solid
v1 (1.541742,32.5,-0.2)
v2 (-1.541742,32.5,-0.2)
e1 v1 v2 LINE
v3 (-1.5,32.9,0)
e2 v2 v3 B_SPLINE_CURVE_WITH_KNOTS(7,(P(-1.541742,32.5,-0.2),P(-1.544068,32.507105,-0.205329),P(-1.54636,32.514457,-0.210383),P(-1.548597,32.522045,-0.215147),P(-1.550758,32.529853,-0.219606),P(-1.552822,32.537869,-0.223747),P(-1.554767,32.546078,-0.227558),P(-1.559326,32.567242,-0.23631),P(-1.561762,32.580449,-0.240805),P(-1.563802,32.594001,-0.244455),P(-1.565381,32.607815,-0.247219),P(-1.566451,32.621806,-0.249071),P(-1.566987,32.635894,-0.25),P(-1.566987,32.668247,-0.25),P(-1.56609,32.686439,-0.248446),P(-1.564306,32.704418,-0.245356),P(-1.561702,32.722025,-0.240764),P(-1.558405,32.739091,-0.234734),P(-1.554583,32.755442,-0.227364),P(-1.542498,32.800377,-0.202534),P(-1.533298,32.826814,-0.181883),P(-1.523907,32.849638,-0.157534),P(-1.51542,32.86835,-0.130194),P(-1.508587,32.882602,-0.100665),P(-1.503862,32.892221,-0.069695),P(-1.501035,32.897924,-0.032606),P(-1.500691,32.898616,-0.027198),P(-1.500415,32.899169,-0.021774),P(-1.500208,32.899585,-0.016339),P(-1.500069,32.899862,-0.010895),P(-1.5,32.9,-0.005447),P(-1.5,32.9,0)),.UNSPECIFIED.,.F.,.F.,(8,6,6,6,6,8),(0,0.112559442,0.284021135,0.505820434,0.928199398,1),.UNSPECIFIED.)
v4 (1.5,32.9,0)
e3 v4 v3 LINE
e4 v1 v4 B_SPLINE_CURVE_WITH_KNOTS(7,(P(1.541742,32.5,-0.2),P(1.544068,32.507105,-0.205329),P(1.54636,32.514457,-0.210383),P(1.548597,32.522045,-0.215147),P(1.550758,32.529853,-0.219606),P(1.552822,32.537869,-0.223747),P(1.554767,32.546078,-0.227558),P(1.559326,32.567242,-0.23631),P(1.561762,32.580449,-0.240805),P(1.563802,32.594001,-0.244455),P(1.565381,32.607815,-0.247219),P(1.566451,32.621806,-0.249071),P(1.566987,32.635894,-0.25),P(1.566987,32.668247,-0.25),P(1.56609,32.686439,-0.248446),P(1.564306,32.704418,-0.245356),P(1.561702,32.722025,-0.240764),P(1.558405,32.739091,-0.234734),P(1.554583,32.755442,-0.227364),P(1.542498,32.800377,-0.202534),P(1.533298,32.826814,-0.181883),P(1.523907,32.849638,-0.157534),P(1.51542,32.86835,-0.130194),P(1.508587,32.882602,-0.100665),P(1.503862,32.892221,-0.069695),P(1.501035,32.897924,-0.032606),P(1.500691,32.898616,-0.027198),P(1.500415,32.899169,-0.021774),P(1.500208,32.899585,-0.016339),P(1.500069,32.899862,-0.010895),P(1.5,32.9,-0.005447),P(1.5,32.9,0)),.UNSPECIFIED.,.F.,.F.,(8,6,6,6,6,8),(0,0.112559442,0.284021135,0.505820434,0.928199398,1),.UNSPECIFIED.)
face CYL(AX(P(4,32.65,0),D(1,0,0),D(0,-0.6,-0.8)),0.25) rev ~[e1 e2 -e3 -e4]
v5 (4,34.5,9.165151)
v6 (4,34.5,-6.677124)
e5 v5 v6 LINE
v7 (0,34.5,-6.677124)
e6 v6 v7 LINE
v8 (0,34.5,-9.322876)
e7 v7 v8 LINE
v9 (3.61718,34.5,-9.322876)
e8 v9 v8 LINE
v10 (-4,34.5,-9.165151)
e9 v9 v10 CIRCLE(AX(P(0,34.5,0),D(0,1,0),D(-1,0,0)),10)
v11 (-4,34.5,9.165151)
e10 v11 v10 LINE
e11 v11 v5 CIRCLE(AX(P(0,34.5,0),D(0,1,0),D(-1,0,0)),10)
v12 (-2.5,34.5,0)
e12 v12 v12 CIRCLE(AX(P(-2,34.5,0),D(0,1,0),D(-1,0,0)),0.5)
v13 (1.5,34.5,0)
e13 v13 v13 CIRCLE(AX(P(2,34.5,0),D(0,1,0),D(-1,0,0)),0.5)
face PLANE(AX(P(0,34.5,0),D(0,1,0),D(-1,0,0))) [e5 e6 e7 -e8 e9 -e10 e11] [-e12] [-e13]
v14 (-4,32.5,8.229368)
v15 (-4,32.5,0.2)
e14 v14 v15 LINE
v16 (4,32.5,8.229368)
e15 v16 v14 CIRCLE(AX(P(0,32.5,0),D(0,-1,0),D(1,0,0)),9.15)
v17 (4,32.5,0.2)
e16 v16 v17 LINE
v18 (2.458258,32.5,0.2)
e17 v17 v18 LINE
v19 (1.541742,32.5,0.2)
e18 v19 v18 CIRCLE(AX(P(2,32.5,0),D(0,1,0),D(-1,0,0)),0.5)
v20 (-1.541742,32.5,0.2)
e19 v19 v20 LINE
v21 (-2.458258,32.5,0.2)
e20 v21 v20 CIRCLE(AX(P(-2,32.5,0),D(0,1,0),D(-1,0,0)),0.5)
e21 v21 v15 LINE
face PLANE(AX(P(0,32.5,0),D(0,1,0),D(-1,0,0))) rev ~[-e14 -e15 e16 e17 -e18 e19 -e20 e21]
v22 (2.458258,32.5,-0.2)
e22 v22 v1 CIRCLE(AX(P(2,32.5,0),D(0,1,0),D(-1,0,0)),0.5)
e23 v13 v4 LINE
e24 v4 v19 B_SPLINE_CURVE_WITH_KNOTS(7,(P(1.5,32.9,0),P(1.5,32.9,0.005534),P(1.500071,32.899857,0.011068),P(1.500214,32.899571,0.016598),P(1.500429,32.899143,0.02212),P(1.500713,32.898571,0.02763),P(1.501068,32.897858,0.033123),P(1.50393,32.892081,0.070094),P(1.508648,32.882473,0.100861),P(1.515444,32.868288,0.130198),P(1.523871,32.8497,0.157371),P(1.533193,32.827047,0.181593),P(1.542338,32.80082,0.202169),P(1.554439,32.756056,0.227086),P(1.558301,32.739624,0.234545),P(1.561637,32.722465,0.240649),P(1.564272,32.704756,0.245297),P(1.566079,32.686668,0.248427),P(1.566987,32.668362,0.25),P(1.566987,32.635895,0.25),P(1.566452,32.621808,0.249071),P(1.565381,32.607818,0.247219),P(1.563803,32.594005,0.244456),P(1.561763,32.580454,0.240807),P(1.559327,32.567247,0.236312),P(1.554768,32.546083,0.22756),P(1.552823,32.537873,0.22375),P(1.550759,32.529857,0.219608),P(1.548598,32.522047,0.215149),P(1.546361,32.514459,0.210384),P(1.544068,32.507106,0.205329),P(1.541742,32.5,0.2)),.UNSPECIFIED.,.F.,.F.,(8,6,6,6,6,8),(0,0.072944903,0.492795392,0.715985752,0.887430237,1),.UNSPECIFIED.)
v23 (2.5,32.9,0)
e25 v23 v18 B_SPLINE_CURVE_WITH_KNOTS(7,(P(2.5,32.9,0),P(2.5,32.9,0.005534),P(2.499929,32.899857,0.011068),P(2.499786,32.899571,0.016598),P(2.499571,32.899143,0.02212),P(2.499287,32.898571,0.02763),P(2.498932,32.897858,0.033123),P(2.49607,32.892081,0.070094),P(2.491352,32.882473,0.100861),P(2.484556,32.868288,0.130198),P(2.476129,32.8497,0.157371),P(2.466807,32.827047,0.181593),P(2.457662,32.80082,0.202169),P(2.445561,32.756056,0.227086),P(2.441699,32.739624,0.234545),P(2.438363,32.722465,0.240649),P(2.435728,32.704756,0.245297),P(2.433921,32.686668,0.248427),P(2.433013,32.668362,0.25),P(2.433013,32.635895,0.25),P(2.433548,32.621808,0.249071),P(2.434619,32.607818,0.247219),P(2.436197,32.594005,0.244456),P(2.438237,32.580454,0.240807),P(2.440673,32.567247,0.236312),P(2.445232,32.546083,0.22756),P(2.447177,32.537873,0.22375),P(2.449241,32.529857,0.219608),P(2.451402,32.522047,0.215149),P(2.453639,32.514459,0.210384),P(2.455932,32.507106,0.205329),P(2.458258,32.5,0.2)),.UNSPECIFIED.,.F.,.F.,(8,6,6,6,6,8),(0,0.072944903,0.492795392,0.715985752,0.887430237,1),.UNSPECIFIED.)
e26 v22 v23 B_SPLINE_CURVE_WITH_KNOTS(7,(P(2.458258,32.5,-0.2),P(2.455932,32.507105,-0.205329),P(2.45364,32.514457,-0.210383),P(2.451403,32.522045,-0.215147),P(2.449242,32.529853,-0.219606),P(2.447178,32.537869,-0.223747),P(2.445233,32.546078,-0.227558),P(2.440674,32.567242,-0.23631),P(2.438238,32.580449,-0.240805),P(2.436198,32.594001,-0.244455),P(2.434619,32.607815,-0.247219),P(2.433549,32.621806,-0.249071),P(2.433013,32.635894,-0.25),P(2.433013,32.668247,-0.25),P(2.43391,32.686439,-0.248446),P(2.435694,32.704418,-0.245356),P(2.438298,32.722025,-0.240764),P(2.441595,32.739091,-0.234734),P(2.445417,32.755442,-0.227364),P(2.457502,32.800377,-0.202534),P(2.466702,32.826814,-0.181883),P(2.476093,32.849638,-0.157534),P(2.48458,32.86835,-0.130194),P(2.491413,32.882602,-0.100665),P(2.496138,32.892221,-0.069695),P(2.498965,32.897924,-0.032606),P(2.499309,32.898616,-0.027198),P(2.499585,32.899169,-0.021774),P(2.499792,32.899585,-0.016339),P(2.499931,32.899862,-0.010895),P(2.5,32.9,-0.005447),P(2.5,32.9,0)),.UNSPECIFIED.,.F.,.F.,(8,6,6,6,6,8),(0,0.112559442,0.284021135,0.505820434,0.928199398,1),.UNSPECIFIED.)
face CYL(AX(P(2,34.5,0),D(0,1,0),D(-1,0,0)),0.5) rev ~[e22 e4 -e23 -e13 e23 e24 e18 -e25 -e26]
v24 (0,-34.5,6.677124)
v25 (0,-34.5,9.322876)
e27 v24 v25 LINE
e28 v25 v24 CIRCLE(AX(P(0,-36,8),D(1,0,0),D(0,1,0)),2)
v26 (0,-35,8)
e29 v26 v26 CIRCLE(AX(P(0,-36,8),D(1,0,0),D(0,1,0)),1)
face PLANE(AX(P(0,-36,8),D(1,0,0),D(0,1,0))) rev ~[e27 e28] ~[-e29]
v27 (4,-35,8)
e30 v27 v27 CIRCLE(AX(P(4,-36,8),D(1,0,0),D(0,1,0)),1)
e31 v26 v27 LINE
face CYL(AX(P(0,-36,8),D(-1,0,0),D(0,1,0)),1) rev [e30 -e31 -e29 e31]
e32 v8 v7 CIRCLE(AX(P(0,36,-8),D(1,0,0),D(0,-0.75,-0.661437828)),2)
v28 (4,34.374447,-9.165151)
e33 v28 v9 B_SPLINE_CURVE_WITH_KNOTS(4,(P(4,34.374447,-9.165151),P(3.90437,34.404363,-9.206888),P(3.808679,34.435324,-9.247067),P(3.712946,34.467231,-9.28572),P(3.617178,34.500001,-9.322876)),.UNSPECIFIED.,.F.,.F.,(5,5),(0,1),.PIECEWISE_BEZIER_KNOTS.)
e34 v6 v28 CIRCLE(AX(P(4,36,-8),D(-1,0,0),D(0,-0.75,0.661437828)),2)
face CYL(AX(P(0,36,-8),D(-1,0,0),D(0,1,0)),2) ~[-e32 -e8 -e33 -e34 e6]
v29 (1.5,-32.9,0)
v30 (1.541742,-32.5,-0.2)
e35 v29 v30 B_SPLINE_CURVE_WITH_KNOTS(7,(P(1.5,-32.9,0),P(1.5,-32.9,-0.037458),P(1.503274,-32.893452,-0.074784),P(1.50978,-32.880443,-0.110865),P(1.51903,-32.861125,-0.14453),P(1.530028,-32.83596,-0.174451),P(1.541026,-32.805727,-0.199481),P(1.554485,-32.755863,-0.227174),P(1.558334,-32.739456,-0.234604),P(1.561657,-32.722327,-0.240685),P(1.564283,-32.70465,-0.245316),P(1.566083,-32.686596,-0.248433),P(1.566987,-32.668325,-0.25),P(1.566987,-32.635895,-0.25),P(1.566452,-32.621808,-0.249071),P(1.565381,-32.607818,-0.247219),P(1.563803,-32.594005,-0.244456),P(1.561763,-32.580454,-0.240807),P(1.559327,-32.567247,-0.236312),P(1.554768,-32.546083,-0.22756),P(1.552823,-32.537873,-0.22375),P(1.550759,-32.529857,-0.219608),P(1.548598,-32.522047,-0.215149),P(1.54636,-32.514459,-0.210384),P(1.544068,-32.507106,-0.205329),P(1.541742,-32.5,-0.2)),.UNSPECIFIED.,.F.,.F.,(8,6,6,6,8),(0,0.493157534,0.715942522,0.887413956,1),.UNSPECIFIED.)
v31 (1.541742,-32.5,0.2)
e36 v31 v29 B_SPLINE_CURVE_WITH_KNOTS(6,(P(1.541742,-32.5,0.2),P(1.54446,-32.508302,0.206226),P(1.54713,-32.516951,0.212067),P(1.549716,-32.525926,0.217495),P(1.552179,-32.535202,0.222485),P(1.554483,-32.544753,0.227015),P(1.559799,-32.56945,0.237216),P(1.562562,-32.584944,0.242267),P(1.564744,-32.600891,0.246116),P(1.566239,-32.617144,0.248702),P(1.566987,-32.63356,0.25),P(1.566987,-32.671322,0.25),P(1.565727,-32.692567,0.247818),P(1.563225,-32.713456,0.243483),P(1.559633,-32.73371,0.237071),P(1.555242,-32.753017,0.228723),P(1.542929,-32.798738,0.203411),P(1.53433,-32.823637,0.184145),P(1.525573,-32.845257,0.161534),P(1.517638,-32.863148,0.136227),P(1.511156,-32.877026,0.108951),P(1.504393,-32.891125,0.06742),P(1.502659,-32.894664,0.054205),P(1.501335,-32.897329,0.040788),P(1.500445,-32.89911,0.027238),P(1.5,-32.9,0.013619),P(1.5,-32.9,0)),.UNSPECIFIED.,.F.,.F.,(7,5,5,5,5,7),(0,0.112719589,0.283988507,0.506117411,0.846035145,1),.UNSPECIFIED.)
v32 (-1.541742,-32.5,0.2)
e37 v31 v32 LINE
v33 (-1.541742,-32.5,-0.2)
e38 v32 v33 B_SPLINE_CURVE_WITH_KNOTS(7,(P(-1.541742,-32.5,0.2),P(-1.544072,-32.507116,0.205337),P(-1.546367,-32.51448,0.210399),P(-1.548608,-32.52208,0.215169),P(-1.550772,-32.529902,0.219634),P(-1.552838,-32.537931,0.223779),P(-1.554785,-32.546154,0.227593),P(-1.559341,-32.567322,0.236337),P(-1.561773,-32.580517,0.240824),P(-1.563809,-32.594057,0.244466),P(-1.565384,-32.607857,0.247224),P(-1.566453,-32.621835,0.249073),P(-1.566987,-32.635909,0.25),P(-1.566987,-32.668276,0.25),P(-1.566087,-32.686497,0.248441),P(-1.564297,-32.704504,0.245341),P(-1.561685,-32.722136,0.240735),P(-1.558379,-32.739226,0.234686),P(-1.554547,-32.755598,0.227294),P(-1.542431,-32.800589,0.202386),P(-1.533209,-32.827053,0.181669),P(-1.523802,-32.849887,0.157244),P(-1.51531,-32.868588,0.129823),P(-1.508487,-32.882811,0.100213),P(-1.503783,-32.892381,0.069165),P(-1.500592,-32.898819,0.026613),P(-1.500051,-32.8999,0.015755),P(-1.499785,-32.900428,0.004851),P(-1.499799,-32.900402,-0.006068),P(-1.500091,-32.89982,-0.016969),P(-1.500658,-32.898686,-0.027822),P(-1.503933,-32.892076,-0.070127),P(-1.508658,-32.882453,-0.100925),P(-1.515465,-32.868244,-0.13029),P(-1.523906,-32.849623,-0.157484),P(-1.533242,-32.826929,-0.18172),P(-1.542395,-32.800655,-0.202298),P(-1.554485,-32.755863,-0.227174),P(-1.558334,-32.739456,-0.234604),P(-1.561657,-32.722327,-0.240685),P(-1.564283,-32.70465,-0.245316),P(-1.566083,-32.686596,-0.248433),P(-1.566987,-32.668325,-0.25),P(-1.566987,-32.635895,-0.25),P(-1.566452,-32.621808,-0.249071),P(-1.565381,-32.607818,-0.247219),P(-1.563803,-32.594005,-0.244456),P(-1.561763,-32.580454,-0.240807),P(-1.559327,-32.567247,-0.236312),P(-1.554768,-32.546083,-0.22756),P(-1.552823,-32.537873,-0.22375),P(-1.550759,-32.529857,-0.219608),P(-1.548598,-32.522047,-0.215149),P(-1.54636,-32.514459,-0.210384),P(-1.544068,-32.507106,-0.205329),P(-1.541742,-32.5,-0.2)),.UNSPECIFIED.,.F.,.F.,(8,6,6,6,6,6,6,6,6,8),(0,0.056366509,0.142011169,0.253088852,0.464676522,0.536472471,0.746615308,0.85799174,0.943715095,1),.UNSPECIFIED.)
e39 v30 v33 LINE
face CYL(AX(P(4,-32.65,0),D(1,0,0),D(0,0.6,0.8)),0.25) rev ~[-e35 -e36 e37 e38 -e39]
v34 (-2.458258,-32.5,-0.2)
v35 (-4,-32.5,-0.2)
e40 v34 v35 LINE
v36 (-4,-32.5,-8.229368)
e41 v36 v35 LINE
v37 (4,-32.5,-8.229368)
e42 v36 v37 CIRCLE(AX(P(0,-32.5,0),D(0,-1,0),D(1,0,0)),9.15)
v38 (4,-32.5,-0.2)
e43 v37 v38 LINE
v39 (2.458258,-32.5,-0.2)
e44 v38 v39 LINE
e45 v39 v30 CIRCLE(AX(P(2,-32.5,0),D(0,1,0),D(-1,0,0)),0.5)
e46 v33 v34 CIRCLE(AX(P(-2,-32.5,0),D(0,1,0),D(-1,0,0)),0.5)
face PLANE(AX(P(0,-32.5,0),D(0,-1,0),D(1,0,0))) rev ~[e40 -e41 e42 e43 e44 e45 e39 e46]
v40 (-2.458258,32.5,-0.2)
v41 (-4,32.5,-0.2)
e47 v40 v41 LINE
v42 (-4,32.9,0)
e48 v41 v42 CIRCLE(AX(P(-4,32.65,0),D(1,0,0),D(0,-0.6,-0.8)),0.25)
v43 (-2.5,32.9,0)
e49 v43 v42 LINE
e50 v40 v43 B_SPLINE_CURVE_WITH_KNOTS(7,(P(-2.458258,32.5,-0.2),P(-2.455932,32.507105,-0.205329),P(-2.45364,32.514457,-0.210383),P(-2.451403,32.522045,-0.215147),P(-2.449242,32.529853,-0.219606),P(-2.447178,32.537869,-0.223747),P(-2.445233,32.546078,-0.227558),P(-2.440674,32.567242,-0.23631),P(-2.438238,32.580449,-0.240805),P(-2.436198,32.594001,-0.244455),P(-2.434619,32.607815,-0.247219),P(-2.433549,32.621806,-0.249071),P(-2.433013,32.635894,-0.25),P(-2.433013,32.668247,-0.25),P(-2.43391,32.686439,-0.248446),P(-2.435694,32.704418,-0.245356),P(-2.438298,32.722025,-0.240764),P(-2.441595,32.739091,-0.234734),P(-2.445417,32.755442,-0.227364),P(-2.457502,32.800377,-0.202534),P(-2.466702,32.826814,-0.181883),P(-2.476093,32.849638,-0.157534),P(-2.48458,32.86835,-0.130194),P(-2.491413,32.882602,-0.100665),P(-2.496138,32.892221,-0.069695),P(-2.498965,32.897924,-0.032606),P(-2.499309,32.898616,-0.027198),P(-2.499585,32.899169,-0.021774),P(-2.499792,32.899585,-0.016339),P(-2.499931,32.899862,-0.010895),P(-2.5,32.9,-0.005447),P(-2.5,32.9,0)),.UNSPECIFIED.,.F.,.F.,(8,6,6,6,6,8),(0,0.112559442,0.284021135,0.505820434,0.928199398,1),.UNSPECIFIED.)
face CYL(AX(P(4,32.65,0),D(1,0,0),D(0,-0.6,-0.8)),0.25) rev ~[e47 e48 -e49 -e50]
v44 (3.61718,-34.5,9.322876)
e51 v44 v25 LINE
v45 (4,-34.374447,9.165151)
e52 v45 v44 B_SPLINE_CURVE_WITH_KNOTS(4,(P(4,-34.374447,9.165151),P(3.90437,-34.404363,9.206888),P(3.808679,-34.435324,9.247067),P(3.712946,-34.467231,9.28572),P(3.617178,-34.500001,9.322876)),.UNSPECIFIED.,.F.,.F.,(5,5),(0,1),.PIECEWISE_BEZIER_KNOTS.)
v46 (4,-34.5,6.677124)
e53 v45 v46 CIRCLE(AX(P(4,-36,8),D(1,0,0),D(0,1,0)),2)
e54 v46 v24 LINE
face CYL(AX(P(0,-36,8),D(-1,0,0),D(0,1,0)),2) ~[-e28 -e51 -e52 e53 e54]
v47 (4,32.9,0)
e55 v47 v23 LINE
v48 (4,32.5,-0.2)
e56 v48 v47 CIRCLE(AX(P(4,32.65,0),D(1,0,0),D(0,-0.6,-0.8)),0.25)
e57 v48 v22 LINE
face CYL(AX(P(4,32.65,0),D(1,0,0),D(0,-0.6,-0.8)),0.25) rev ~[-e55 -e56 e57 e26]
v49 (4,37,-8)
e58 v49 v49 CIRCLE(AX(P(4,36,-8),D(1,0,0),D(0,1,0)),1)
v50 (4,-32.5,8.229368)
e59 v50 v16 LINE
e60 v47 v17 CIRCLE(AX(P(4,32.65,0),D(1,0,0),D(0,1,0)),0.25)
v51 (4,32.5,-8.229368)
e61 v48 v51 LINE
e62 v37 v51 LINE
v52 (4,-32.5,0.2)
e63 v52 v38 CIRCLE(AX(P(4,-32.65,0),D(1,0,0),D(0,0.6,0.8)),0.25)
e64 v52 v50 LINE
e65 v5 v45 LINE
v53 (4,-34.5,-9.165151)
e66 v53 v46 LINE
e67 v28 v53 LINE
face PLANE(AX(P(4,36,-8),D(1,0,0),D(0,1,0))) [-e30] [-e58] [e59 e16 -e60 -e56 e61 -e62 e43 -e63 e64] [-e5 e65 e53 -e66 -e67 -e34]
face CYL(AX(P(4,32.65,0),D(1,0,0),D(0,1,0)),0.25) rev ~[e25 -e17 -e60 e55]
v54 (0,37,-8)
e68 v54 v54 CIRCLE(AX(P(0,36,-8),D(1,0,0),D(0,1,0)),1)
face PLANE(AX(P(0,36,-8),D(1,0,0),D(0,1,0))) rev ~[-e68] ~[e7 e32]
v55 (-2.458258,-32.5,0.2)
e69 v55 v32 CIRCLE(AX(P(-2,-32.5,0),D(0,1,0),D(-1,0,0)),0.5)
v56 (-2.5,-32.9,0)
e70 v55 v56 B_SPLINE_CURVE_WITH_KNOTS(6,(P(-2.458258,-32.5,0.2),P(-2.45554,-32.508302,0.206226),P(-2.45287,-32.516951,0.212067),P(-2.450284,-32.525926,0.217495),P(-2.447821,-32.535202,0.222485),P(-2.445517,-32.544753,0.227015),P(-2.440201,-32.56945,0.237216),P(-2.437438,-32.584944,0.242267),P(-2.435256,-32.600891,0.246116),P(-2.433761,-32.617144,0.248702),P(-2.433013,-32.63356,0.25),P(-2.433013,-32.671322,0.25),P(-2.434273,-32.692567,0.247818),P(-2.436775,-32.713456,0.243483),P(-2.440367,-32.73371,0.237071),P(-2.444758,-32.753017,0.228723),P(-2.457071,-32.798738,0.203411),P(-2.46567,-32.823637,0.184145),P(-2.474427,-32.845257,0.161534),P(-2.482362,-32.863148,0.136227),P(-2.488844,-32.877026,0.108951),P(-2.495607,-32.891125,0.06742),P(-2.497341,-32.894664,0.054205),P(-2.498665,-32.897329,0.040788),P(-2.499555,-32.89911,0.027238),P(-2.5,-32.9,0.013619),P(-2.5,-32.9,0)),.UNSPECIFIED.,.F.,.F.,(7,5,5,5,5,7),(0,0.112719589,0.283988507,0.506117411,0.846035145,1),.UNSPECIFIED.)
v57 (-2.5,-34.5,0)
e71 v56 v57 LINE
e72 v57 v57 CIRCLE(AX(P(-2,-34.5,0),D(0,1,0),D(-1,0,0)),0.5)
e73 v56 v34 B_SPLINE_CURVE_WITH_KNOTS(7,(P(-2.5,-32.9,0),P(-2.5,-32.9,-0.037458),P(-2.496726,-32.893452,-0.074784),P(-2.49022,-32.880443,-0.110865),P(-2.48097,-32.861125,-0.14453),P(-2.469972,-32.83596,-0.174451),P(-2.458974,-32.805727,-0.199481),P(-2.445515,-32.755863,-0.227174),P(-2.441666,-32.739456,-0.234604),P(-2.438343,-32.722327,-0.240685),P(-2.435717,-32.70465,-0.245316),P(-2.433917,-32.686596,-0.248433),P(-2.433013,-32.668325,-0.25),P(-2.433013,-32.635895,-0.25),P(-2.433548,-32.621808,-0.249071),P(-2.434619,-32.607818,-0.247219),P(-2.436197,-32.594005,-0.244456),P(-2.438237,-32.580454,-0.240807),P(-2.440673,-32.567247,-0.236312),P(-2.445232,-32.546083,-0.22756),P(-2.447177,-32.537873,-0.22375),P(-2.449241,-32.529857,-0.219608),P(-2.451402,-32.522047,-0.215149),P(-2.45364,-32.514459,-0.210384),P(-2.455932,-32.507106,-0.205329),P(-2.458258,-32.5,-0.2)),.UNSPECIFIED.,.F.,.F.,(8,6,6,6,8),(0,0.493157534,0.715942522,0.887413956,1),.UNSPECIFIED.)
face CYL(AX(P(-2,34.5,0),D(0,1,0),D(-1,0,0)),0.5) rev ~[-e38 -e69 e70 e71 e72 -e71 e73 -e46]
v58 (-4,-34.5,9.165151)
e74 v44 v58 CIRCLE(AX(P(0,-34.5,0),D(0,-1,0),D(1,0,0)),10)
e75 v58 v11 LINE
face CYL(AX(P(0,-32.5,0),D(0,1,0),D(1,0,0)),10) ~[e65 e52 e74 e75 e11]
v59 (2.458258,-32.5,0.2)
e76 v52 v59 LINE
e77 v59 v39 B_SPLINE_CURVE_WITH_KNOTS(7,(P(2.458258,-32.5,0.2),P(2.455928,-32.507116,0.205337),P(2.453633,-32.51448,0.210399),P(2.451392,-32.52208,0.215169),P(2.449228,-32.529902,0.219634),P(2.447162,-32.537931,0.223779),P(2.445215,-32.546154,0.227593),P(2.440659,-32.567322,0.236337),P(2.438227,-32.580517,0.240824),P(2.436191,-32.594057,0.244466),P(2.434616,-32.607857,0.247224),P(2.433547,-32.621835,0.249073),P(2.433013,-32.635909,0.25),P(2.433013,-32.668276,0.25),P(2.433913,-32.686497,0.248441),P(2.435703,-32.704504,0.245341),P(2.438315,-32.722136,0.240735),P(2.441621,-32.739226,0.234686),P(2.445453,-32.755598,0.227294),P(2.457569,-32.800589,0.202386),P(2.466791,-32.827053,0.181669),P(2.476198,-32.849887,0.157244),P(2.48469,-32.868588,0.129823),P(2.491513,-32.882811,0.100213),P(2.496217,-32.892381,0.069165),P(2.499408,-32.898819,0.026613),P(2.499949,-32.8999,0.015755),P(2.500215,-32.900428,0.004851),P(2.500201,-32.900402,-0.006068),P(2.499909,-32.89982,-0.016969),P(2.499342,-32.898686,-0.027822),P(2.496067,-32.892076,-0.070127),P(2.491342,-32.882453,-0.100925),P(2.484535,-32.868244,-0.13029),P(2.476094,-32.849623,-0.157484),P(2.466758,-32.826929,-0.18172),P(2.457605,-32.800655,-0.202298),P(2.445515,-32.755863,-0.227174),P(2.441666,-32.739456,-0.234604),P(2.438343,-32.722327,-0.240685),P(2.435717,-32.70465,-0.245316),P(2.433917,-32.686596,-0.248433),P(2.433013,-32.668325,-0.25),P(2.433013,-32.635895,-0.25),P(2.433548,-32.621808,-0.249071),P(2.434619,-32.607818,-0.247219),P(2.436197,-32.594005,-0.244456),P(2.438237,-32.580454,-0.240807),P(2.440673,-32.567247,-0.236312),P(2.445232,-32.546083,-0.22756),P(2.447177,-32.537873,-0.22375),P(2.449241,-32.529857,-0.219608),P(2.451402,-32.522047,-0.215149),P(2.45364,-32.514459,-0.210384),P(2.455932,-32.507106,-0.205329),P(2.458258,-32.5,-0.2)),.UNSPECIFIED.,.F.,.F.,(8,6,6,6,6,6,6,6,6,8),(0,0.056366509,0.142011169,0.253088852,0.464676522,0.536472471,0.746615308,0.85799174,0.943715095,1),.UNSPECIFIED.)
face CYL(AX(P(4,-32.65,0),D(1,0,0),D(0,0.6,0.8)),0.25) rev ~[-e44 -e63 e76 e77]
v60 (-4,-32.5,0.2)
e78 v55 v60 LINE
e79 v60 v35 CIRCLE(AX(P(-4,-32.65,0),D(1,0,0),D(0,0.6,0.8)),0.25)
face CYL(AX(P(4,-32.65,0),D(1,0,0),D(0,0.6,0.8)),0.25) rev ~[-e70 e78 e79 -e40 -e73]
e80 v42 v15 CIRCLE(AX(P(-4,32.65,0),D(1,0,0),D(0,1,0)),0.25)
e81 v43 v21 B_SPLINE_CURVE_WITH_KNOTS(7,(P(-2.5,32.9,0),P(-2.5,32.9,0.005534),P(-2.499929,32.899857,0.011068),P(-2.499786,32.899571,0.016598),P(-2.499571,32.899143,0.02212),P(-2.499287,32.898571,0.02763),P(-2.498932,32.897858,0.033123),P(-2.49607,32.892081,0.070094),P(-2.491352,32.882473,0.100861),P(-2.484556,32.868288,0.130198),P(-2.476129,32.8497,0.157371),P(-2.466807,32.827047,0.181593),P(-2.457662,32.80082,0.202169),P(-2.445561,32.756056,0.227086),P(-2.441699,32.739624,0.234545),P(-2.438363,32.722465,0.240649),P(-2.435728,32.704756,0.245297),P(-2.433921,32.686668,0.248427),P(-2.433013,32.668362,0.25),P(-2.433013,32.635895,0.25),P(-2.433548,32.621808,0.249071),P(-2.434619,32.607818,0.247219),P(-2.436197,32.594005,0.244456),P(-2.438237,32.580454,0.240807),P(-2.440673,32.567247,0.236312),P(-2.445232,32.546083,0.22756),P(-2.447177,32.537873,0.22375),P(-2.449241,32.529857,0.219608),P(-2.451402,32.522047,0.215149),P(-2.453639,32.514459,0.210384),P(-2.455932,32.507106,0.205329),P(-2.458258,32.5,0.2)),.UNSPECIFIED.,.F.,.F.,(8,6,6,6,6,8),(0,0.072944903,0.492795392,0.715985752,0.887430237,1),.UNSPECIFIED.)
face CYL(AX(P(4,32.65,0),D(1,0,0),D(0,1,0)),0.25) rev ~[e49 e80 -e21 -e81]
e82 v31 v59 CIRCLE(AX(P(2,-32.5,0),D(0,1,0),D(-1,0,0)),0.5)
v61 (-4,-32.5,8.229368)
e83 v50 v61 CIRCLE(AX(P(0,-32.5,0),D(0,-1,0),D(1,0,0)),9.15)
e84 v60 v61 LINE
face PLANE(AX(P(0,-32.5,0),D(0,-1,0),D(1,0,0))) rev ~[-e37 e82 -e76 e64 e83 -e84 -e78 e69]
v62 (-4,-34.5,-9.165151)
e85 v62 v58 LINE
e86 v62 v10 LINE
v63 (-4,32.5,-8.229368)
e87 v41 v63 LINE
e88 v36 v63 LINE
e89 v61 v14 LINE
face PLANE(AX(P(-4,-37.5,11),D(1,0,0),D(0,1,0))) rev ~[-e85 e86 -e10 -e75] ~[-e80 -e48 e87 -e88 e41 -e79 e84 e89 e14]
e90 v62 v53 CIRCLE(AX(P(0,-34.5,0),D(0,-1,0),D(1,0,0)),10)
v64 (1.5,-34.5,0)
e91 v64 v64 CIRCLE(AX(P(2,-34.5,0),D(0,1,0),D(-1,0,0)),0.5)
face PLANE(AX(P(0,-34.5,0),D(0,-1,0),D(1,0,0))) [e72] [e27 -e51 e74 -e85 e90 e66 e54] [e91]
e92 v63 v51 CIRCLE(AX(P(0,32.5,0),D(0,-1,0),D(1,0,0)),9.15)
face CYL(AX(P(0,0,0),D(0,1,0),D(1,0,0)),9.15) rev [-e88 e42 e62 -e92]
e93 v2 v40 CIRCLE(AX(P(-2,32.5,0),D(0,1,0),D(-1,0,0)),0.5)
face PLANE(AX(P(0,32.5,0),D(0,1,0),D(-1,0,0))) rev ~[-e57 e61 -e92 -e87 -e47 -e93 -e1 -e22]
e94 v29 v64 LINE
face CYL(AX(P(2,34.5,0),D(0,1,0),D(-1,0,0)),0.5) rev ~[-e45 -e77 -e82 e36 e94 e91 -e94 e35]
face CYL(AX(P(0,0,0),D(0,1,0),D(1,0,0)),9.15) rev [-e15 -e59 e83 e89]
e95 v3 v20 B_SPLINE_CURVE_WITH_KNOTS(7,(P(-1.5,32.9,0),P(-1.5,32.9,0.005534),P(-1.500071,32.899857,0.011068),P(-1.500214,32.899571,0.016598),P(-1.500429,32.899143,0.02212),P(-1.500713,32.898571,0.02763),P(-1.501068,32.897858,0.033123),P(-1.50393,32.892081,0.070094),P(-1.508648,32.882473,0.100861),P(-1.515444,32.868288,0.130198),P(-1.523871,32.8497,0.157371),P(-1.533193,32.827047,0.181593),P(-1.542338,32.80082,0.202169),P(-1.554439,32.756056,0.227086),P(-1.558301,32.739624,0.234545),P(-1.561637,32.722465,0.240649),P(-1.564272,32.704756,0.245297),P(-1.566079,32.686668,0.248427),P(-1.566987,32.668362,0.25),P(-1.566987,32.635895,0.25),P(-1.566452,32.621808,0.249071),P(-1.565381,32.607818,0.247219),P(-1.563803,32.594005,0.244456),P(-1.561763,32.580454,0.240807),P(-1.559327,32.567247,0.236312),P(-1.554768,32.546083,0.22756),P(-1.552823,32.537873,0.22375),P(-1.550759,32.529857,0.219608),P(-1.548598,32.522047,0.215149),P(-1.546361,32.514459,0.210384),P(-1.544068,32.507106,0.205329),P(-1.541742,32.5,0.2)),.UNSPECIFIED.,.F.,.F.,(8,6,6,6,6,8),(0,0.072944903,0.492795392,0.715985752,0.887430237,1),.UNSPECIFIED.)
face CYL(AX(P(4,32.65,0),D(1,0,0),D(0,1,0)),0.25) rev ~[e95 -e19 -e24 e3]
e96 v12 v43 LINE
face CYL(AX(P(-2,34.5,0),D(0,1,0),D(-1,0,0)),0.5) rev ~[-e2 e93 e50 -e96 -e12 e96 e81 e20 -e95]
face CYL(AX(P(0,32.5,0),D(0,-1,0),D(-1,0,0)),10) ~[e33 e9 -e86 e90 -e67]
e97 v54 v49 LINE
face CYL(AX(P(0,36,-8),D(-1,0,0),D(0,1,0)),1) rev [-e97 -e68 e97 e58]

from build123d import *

# Parameters (mm, degrees)
F0_R      = 10
F0_R_2    = 9.15
F1_DEPTH  = 32.5
F3_R      = 10
F4_DEPTH  = 2
F6_R      = 10
F7_DEPTH  = 2
F9_W      = 20.5420348992
F9_H      = 75
F9_W_2    = 19.674062295
F10_DEPTH = 25
F12_DEPTH = 25
F13_R     = 0.5
F14_DEPTH = 80
F15_R     = 2
F15_R_2   = 1
F16_DEPTH = 4
F17_R     = 2
F17_R_2   = 1
F18_DEPTH = 4


with BuildPart() as f1:
    # F0 (on Front) → F1 (new body, symmetric)
    with BuildSketch(Plane.XZ):
        Circle(F0_R)
        Circle(F0_R_2, mode=Mode.SUBTRACT)
    extrude(amount=F1_DEPTH, both=True)

    # F3 (on face) → F4 (join)
    with BuildSketch(Plane.XZ.offset(32.5)):
        Circle(F3_R)
    extrude(amount=F4_DEPTH)

    # F6 (on face) → F7 (join)
    with BuildSketch(Plane(origin=(0, 32.5, 0), x_dir=(-1, 0, 0), z_dir=(0, 1, 0))):
        Circle(F6_R)
    extrude(amount=F7_DEPTH)

    # F9 (on offset) → F10 (cut)
    with BuildSketch(Plane.XY.offset(11)):
        with Locations((-14.2710174496, 0)):
            Rectangle(F9_W, F9_H)
        with Locations((13.8370311475, 0)):
            Rectangle(F9_W_2, F9_H)
    extrude(amount=-F10_DEPTH, mode=Mode.SUBTRACT)

    # F11 (on face) → F12 (cut)
    with BuildSketch(Plane.YZ.offset(4)):
        with BuildLine():
            Line((-32.5, -0.2), (-32.5, 0.2))
            ThreePointArc((-32.5, 0.2), (-32.9, 0), (-32.5, -0.2))
        make_face()
        with BuildLine():
            ThreePointArc((32.9, 0), (32.7618033989, 0.2236067977), (32.5, 0.2))
            Line((32.5, 0.2), (32.5, -0.2))
            ThreePointArc((32.5, -0.2), (32.7618033989, -0.2236067977), (32.9, 0))
        make_face()
    extrude(amount=-F12_DEPTH, mode=Mode.SUBTRACT)

    # F13 (on face) → F14 (cut)
    with BuildSketch(Plane(origin=(0, 34.5, 0), x_dir=(-1, 0, 0), z_dir=(0, 1, 0))):
        with Locations((-2, 0)):
            Circle(F13_R)
        with Locations((2, 0)):
            Circle(F13_R)
    extrude(amount=-F14_DEPTH, mode=Mode.SUBTRACT)

    # F15 (on Right) → F16 (join)
    with BuildSketch(Plane.YZ):
        with Locations((36, -8)):
            Circle(F15_R)
        with Locations((36, -8)):
            Circle(F15_R_2, mode=Mode.SUBTRACT)
    extrude(amount=F16_DEPTH)

    # F17 (on Right) → F18 (join)
    with BuildSketch(Plane.YZ):
        with Locations((-36, 8)):
            Circle(F17_R)
        with Locations((-36, 8)):
            Circle(F17_R_2, mode=Mode.SUBTRACT)
    extrude(amount=F18_DEPTH)


solid = f1.part
